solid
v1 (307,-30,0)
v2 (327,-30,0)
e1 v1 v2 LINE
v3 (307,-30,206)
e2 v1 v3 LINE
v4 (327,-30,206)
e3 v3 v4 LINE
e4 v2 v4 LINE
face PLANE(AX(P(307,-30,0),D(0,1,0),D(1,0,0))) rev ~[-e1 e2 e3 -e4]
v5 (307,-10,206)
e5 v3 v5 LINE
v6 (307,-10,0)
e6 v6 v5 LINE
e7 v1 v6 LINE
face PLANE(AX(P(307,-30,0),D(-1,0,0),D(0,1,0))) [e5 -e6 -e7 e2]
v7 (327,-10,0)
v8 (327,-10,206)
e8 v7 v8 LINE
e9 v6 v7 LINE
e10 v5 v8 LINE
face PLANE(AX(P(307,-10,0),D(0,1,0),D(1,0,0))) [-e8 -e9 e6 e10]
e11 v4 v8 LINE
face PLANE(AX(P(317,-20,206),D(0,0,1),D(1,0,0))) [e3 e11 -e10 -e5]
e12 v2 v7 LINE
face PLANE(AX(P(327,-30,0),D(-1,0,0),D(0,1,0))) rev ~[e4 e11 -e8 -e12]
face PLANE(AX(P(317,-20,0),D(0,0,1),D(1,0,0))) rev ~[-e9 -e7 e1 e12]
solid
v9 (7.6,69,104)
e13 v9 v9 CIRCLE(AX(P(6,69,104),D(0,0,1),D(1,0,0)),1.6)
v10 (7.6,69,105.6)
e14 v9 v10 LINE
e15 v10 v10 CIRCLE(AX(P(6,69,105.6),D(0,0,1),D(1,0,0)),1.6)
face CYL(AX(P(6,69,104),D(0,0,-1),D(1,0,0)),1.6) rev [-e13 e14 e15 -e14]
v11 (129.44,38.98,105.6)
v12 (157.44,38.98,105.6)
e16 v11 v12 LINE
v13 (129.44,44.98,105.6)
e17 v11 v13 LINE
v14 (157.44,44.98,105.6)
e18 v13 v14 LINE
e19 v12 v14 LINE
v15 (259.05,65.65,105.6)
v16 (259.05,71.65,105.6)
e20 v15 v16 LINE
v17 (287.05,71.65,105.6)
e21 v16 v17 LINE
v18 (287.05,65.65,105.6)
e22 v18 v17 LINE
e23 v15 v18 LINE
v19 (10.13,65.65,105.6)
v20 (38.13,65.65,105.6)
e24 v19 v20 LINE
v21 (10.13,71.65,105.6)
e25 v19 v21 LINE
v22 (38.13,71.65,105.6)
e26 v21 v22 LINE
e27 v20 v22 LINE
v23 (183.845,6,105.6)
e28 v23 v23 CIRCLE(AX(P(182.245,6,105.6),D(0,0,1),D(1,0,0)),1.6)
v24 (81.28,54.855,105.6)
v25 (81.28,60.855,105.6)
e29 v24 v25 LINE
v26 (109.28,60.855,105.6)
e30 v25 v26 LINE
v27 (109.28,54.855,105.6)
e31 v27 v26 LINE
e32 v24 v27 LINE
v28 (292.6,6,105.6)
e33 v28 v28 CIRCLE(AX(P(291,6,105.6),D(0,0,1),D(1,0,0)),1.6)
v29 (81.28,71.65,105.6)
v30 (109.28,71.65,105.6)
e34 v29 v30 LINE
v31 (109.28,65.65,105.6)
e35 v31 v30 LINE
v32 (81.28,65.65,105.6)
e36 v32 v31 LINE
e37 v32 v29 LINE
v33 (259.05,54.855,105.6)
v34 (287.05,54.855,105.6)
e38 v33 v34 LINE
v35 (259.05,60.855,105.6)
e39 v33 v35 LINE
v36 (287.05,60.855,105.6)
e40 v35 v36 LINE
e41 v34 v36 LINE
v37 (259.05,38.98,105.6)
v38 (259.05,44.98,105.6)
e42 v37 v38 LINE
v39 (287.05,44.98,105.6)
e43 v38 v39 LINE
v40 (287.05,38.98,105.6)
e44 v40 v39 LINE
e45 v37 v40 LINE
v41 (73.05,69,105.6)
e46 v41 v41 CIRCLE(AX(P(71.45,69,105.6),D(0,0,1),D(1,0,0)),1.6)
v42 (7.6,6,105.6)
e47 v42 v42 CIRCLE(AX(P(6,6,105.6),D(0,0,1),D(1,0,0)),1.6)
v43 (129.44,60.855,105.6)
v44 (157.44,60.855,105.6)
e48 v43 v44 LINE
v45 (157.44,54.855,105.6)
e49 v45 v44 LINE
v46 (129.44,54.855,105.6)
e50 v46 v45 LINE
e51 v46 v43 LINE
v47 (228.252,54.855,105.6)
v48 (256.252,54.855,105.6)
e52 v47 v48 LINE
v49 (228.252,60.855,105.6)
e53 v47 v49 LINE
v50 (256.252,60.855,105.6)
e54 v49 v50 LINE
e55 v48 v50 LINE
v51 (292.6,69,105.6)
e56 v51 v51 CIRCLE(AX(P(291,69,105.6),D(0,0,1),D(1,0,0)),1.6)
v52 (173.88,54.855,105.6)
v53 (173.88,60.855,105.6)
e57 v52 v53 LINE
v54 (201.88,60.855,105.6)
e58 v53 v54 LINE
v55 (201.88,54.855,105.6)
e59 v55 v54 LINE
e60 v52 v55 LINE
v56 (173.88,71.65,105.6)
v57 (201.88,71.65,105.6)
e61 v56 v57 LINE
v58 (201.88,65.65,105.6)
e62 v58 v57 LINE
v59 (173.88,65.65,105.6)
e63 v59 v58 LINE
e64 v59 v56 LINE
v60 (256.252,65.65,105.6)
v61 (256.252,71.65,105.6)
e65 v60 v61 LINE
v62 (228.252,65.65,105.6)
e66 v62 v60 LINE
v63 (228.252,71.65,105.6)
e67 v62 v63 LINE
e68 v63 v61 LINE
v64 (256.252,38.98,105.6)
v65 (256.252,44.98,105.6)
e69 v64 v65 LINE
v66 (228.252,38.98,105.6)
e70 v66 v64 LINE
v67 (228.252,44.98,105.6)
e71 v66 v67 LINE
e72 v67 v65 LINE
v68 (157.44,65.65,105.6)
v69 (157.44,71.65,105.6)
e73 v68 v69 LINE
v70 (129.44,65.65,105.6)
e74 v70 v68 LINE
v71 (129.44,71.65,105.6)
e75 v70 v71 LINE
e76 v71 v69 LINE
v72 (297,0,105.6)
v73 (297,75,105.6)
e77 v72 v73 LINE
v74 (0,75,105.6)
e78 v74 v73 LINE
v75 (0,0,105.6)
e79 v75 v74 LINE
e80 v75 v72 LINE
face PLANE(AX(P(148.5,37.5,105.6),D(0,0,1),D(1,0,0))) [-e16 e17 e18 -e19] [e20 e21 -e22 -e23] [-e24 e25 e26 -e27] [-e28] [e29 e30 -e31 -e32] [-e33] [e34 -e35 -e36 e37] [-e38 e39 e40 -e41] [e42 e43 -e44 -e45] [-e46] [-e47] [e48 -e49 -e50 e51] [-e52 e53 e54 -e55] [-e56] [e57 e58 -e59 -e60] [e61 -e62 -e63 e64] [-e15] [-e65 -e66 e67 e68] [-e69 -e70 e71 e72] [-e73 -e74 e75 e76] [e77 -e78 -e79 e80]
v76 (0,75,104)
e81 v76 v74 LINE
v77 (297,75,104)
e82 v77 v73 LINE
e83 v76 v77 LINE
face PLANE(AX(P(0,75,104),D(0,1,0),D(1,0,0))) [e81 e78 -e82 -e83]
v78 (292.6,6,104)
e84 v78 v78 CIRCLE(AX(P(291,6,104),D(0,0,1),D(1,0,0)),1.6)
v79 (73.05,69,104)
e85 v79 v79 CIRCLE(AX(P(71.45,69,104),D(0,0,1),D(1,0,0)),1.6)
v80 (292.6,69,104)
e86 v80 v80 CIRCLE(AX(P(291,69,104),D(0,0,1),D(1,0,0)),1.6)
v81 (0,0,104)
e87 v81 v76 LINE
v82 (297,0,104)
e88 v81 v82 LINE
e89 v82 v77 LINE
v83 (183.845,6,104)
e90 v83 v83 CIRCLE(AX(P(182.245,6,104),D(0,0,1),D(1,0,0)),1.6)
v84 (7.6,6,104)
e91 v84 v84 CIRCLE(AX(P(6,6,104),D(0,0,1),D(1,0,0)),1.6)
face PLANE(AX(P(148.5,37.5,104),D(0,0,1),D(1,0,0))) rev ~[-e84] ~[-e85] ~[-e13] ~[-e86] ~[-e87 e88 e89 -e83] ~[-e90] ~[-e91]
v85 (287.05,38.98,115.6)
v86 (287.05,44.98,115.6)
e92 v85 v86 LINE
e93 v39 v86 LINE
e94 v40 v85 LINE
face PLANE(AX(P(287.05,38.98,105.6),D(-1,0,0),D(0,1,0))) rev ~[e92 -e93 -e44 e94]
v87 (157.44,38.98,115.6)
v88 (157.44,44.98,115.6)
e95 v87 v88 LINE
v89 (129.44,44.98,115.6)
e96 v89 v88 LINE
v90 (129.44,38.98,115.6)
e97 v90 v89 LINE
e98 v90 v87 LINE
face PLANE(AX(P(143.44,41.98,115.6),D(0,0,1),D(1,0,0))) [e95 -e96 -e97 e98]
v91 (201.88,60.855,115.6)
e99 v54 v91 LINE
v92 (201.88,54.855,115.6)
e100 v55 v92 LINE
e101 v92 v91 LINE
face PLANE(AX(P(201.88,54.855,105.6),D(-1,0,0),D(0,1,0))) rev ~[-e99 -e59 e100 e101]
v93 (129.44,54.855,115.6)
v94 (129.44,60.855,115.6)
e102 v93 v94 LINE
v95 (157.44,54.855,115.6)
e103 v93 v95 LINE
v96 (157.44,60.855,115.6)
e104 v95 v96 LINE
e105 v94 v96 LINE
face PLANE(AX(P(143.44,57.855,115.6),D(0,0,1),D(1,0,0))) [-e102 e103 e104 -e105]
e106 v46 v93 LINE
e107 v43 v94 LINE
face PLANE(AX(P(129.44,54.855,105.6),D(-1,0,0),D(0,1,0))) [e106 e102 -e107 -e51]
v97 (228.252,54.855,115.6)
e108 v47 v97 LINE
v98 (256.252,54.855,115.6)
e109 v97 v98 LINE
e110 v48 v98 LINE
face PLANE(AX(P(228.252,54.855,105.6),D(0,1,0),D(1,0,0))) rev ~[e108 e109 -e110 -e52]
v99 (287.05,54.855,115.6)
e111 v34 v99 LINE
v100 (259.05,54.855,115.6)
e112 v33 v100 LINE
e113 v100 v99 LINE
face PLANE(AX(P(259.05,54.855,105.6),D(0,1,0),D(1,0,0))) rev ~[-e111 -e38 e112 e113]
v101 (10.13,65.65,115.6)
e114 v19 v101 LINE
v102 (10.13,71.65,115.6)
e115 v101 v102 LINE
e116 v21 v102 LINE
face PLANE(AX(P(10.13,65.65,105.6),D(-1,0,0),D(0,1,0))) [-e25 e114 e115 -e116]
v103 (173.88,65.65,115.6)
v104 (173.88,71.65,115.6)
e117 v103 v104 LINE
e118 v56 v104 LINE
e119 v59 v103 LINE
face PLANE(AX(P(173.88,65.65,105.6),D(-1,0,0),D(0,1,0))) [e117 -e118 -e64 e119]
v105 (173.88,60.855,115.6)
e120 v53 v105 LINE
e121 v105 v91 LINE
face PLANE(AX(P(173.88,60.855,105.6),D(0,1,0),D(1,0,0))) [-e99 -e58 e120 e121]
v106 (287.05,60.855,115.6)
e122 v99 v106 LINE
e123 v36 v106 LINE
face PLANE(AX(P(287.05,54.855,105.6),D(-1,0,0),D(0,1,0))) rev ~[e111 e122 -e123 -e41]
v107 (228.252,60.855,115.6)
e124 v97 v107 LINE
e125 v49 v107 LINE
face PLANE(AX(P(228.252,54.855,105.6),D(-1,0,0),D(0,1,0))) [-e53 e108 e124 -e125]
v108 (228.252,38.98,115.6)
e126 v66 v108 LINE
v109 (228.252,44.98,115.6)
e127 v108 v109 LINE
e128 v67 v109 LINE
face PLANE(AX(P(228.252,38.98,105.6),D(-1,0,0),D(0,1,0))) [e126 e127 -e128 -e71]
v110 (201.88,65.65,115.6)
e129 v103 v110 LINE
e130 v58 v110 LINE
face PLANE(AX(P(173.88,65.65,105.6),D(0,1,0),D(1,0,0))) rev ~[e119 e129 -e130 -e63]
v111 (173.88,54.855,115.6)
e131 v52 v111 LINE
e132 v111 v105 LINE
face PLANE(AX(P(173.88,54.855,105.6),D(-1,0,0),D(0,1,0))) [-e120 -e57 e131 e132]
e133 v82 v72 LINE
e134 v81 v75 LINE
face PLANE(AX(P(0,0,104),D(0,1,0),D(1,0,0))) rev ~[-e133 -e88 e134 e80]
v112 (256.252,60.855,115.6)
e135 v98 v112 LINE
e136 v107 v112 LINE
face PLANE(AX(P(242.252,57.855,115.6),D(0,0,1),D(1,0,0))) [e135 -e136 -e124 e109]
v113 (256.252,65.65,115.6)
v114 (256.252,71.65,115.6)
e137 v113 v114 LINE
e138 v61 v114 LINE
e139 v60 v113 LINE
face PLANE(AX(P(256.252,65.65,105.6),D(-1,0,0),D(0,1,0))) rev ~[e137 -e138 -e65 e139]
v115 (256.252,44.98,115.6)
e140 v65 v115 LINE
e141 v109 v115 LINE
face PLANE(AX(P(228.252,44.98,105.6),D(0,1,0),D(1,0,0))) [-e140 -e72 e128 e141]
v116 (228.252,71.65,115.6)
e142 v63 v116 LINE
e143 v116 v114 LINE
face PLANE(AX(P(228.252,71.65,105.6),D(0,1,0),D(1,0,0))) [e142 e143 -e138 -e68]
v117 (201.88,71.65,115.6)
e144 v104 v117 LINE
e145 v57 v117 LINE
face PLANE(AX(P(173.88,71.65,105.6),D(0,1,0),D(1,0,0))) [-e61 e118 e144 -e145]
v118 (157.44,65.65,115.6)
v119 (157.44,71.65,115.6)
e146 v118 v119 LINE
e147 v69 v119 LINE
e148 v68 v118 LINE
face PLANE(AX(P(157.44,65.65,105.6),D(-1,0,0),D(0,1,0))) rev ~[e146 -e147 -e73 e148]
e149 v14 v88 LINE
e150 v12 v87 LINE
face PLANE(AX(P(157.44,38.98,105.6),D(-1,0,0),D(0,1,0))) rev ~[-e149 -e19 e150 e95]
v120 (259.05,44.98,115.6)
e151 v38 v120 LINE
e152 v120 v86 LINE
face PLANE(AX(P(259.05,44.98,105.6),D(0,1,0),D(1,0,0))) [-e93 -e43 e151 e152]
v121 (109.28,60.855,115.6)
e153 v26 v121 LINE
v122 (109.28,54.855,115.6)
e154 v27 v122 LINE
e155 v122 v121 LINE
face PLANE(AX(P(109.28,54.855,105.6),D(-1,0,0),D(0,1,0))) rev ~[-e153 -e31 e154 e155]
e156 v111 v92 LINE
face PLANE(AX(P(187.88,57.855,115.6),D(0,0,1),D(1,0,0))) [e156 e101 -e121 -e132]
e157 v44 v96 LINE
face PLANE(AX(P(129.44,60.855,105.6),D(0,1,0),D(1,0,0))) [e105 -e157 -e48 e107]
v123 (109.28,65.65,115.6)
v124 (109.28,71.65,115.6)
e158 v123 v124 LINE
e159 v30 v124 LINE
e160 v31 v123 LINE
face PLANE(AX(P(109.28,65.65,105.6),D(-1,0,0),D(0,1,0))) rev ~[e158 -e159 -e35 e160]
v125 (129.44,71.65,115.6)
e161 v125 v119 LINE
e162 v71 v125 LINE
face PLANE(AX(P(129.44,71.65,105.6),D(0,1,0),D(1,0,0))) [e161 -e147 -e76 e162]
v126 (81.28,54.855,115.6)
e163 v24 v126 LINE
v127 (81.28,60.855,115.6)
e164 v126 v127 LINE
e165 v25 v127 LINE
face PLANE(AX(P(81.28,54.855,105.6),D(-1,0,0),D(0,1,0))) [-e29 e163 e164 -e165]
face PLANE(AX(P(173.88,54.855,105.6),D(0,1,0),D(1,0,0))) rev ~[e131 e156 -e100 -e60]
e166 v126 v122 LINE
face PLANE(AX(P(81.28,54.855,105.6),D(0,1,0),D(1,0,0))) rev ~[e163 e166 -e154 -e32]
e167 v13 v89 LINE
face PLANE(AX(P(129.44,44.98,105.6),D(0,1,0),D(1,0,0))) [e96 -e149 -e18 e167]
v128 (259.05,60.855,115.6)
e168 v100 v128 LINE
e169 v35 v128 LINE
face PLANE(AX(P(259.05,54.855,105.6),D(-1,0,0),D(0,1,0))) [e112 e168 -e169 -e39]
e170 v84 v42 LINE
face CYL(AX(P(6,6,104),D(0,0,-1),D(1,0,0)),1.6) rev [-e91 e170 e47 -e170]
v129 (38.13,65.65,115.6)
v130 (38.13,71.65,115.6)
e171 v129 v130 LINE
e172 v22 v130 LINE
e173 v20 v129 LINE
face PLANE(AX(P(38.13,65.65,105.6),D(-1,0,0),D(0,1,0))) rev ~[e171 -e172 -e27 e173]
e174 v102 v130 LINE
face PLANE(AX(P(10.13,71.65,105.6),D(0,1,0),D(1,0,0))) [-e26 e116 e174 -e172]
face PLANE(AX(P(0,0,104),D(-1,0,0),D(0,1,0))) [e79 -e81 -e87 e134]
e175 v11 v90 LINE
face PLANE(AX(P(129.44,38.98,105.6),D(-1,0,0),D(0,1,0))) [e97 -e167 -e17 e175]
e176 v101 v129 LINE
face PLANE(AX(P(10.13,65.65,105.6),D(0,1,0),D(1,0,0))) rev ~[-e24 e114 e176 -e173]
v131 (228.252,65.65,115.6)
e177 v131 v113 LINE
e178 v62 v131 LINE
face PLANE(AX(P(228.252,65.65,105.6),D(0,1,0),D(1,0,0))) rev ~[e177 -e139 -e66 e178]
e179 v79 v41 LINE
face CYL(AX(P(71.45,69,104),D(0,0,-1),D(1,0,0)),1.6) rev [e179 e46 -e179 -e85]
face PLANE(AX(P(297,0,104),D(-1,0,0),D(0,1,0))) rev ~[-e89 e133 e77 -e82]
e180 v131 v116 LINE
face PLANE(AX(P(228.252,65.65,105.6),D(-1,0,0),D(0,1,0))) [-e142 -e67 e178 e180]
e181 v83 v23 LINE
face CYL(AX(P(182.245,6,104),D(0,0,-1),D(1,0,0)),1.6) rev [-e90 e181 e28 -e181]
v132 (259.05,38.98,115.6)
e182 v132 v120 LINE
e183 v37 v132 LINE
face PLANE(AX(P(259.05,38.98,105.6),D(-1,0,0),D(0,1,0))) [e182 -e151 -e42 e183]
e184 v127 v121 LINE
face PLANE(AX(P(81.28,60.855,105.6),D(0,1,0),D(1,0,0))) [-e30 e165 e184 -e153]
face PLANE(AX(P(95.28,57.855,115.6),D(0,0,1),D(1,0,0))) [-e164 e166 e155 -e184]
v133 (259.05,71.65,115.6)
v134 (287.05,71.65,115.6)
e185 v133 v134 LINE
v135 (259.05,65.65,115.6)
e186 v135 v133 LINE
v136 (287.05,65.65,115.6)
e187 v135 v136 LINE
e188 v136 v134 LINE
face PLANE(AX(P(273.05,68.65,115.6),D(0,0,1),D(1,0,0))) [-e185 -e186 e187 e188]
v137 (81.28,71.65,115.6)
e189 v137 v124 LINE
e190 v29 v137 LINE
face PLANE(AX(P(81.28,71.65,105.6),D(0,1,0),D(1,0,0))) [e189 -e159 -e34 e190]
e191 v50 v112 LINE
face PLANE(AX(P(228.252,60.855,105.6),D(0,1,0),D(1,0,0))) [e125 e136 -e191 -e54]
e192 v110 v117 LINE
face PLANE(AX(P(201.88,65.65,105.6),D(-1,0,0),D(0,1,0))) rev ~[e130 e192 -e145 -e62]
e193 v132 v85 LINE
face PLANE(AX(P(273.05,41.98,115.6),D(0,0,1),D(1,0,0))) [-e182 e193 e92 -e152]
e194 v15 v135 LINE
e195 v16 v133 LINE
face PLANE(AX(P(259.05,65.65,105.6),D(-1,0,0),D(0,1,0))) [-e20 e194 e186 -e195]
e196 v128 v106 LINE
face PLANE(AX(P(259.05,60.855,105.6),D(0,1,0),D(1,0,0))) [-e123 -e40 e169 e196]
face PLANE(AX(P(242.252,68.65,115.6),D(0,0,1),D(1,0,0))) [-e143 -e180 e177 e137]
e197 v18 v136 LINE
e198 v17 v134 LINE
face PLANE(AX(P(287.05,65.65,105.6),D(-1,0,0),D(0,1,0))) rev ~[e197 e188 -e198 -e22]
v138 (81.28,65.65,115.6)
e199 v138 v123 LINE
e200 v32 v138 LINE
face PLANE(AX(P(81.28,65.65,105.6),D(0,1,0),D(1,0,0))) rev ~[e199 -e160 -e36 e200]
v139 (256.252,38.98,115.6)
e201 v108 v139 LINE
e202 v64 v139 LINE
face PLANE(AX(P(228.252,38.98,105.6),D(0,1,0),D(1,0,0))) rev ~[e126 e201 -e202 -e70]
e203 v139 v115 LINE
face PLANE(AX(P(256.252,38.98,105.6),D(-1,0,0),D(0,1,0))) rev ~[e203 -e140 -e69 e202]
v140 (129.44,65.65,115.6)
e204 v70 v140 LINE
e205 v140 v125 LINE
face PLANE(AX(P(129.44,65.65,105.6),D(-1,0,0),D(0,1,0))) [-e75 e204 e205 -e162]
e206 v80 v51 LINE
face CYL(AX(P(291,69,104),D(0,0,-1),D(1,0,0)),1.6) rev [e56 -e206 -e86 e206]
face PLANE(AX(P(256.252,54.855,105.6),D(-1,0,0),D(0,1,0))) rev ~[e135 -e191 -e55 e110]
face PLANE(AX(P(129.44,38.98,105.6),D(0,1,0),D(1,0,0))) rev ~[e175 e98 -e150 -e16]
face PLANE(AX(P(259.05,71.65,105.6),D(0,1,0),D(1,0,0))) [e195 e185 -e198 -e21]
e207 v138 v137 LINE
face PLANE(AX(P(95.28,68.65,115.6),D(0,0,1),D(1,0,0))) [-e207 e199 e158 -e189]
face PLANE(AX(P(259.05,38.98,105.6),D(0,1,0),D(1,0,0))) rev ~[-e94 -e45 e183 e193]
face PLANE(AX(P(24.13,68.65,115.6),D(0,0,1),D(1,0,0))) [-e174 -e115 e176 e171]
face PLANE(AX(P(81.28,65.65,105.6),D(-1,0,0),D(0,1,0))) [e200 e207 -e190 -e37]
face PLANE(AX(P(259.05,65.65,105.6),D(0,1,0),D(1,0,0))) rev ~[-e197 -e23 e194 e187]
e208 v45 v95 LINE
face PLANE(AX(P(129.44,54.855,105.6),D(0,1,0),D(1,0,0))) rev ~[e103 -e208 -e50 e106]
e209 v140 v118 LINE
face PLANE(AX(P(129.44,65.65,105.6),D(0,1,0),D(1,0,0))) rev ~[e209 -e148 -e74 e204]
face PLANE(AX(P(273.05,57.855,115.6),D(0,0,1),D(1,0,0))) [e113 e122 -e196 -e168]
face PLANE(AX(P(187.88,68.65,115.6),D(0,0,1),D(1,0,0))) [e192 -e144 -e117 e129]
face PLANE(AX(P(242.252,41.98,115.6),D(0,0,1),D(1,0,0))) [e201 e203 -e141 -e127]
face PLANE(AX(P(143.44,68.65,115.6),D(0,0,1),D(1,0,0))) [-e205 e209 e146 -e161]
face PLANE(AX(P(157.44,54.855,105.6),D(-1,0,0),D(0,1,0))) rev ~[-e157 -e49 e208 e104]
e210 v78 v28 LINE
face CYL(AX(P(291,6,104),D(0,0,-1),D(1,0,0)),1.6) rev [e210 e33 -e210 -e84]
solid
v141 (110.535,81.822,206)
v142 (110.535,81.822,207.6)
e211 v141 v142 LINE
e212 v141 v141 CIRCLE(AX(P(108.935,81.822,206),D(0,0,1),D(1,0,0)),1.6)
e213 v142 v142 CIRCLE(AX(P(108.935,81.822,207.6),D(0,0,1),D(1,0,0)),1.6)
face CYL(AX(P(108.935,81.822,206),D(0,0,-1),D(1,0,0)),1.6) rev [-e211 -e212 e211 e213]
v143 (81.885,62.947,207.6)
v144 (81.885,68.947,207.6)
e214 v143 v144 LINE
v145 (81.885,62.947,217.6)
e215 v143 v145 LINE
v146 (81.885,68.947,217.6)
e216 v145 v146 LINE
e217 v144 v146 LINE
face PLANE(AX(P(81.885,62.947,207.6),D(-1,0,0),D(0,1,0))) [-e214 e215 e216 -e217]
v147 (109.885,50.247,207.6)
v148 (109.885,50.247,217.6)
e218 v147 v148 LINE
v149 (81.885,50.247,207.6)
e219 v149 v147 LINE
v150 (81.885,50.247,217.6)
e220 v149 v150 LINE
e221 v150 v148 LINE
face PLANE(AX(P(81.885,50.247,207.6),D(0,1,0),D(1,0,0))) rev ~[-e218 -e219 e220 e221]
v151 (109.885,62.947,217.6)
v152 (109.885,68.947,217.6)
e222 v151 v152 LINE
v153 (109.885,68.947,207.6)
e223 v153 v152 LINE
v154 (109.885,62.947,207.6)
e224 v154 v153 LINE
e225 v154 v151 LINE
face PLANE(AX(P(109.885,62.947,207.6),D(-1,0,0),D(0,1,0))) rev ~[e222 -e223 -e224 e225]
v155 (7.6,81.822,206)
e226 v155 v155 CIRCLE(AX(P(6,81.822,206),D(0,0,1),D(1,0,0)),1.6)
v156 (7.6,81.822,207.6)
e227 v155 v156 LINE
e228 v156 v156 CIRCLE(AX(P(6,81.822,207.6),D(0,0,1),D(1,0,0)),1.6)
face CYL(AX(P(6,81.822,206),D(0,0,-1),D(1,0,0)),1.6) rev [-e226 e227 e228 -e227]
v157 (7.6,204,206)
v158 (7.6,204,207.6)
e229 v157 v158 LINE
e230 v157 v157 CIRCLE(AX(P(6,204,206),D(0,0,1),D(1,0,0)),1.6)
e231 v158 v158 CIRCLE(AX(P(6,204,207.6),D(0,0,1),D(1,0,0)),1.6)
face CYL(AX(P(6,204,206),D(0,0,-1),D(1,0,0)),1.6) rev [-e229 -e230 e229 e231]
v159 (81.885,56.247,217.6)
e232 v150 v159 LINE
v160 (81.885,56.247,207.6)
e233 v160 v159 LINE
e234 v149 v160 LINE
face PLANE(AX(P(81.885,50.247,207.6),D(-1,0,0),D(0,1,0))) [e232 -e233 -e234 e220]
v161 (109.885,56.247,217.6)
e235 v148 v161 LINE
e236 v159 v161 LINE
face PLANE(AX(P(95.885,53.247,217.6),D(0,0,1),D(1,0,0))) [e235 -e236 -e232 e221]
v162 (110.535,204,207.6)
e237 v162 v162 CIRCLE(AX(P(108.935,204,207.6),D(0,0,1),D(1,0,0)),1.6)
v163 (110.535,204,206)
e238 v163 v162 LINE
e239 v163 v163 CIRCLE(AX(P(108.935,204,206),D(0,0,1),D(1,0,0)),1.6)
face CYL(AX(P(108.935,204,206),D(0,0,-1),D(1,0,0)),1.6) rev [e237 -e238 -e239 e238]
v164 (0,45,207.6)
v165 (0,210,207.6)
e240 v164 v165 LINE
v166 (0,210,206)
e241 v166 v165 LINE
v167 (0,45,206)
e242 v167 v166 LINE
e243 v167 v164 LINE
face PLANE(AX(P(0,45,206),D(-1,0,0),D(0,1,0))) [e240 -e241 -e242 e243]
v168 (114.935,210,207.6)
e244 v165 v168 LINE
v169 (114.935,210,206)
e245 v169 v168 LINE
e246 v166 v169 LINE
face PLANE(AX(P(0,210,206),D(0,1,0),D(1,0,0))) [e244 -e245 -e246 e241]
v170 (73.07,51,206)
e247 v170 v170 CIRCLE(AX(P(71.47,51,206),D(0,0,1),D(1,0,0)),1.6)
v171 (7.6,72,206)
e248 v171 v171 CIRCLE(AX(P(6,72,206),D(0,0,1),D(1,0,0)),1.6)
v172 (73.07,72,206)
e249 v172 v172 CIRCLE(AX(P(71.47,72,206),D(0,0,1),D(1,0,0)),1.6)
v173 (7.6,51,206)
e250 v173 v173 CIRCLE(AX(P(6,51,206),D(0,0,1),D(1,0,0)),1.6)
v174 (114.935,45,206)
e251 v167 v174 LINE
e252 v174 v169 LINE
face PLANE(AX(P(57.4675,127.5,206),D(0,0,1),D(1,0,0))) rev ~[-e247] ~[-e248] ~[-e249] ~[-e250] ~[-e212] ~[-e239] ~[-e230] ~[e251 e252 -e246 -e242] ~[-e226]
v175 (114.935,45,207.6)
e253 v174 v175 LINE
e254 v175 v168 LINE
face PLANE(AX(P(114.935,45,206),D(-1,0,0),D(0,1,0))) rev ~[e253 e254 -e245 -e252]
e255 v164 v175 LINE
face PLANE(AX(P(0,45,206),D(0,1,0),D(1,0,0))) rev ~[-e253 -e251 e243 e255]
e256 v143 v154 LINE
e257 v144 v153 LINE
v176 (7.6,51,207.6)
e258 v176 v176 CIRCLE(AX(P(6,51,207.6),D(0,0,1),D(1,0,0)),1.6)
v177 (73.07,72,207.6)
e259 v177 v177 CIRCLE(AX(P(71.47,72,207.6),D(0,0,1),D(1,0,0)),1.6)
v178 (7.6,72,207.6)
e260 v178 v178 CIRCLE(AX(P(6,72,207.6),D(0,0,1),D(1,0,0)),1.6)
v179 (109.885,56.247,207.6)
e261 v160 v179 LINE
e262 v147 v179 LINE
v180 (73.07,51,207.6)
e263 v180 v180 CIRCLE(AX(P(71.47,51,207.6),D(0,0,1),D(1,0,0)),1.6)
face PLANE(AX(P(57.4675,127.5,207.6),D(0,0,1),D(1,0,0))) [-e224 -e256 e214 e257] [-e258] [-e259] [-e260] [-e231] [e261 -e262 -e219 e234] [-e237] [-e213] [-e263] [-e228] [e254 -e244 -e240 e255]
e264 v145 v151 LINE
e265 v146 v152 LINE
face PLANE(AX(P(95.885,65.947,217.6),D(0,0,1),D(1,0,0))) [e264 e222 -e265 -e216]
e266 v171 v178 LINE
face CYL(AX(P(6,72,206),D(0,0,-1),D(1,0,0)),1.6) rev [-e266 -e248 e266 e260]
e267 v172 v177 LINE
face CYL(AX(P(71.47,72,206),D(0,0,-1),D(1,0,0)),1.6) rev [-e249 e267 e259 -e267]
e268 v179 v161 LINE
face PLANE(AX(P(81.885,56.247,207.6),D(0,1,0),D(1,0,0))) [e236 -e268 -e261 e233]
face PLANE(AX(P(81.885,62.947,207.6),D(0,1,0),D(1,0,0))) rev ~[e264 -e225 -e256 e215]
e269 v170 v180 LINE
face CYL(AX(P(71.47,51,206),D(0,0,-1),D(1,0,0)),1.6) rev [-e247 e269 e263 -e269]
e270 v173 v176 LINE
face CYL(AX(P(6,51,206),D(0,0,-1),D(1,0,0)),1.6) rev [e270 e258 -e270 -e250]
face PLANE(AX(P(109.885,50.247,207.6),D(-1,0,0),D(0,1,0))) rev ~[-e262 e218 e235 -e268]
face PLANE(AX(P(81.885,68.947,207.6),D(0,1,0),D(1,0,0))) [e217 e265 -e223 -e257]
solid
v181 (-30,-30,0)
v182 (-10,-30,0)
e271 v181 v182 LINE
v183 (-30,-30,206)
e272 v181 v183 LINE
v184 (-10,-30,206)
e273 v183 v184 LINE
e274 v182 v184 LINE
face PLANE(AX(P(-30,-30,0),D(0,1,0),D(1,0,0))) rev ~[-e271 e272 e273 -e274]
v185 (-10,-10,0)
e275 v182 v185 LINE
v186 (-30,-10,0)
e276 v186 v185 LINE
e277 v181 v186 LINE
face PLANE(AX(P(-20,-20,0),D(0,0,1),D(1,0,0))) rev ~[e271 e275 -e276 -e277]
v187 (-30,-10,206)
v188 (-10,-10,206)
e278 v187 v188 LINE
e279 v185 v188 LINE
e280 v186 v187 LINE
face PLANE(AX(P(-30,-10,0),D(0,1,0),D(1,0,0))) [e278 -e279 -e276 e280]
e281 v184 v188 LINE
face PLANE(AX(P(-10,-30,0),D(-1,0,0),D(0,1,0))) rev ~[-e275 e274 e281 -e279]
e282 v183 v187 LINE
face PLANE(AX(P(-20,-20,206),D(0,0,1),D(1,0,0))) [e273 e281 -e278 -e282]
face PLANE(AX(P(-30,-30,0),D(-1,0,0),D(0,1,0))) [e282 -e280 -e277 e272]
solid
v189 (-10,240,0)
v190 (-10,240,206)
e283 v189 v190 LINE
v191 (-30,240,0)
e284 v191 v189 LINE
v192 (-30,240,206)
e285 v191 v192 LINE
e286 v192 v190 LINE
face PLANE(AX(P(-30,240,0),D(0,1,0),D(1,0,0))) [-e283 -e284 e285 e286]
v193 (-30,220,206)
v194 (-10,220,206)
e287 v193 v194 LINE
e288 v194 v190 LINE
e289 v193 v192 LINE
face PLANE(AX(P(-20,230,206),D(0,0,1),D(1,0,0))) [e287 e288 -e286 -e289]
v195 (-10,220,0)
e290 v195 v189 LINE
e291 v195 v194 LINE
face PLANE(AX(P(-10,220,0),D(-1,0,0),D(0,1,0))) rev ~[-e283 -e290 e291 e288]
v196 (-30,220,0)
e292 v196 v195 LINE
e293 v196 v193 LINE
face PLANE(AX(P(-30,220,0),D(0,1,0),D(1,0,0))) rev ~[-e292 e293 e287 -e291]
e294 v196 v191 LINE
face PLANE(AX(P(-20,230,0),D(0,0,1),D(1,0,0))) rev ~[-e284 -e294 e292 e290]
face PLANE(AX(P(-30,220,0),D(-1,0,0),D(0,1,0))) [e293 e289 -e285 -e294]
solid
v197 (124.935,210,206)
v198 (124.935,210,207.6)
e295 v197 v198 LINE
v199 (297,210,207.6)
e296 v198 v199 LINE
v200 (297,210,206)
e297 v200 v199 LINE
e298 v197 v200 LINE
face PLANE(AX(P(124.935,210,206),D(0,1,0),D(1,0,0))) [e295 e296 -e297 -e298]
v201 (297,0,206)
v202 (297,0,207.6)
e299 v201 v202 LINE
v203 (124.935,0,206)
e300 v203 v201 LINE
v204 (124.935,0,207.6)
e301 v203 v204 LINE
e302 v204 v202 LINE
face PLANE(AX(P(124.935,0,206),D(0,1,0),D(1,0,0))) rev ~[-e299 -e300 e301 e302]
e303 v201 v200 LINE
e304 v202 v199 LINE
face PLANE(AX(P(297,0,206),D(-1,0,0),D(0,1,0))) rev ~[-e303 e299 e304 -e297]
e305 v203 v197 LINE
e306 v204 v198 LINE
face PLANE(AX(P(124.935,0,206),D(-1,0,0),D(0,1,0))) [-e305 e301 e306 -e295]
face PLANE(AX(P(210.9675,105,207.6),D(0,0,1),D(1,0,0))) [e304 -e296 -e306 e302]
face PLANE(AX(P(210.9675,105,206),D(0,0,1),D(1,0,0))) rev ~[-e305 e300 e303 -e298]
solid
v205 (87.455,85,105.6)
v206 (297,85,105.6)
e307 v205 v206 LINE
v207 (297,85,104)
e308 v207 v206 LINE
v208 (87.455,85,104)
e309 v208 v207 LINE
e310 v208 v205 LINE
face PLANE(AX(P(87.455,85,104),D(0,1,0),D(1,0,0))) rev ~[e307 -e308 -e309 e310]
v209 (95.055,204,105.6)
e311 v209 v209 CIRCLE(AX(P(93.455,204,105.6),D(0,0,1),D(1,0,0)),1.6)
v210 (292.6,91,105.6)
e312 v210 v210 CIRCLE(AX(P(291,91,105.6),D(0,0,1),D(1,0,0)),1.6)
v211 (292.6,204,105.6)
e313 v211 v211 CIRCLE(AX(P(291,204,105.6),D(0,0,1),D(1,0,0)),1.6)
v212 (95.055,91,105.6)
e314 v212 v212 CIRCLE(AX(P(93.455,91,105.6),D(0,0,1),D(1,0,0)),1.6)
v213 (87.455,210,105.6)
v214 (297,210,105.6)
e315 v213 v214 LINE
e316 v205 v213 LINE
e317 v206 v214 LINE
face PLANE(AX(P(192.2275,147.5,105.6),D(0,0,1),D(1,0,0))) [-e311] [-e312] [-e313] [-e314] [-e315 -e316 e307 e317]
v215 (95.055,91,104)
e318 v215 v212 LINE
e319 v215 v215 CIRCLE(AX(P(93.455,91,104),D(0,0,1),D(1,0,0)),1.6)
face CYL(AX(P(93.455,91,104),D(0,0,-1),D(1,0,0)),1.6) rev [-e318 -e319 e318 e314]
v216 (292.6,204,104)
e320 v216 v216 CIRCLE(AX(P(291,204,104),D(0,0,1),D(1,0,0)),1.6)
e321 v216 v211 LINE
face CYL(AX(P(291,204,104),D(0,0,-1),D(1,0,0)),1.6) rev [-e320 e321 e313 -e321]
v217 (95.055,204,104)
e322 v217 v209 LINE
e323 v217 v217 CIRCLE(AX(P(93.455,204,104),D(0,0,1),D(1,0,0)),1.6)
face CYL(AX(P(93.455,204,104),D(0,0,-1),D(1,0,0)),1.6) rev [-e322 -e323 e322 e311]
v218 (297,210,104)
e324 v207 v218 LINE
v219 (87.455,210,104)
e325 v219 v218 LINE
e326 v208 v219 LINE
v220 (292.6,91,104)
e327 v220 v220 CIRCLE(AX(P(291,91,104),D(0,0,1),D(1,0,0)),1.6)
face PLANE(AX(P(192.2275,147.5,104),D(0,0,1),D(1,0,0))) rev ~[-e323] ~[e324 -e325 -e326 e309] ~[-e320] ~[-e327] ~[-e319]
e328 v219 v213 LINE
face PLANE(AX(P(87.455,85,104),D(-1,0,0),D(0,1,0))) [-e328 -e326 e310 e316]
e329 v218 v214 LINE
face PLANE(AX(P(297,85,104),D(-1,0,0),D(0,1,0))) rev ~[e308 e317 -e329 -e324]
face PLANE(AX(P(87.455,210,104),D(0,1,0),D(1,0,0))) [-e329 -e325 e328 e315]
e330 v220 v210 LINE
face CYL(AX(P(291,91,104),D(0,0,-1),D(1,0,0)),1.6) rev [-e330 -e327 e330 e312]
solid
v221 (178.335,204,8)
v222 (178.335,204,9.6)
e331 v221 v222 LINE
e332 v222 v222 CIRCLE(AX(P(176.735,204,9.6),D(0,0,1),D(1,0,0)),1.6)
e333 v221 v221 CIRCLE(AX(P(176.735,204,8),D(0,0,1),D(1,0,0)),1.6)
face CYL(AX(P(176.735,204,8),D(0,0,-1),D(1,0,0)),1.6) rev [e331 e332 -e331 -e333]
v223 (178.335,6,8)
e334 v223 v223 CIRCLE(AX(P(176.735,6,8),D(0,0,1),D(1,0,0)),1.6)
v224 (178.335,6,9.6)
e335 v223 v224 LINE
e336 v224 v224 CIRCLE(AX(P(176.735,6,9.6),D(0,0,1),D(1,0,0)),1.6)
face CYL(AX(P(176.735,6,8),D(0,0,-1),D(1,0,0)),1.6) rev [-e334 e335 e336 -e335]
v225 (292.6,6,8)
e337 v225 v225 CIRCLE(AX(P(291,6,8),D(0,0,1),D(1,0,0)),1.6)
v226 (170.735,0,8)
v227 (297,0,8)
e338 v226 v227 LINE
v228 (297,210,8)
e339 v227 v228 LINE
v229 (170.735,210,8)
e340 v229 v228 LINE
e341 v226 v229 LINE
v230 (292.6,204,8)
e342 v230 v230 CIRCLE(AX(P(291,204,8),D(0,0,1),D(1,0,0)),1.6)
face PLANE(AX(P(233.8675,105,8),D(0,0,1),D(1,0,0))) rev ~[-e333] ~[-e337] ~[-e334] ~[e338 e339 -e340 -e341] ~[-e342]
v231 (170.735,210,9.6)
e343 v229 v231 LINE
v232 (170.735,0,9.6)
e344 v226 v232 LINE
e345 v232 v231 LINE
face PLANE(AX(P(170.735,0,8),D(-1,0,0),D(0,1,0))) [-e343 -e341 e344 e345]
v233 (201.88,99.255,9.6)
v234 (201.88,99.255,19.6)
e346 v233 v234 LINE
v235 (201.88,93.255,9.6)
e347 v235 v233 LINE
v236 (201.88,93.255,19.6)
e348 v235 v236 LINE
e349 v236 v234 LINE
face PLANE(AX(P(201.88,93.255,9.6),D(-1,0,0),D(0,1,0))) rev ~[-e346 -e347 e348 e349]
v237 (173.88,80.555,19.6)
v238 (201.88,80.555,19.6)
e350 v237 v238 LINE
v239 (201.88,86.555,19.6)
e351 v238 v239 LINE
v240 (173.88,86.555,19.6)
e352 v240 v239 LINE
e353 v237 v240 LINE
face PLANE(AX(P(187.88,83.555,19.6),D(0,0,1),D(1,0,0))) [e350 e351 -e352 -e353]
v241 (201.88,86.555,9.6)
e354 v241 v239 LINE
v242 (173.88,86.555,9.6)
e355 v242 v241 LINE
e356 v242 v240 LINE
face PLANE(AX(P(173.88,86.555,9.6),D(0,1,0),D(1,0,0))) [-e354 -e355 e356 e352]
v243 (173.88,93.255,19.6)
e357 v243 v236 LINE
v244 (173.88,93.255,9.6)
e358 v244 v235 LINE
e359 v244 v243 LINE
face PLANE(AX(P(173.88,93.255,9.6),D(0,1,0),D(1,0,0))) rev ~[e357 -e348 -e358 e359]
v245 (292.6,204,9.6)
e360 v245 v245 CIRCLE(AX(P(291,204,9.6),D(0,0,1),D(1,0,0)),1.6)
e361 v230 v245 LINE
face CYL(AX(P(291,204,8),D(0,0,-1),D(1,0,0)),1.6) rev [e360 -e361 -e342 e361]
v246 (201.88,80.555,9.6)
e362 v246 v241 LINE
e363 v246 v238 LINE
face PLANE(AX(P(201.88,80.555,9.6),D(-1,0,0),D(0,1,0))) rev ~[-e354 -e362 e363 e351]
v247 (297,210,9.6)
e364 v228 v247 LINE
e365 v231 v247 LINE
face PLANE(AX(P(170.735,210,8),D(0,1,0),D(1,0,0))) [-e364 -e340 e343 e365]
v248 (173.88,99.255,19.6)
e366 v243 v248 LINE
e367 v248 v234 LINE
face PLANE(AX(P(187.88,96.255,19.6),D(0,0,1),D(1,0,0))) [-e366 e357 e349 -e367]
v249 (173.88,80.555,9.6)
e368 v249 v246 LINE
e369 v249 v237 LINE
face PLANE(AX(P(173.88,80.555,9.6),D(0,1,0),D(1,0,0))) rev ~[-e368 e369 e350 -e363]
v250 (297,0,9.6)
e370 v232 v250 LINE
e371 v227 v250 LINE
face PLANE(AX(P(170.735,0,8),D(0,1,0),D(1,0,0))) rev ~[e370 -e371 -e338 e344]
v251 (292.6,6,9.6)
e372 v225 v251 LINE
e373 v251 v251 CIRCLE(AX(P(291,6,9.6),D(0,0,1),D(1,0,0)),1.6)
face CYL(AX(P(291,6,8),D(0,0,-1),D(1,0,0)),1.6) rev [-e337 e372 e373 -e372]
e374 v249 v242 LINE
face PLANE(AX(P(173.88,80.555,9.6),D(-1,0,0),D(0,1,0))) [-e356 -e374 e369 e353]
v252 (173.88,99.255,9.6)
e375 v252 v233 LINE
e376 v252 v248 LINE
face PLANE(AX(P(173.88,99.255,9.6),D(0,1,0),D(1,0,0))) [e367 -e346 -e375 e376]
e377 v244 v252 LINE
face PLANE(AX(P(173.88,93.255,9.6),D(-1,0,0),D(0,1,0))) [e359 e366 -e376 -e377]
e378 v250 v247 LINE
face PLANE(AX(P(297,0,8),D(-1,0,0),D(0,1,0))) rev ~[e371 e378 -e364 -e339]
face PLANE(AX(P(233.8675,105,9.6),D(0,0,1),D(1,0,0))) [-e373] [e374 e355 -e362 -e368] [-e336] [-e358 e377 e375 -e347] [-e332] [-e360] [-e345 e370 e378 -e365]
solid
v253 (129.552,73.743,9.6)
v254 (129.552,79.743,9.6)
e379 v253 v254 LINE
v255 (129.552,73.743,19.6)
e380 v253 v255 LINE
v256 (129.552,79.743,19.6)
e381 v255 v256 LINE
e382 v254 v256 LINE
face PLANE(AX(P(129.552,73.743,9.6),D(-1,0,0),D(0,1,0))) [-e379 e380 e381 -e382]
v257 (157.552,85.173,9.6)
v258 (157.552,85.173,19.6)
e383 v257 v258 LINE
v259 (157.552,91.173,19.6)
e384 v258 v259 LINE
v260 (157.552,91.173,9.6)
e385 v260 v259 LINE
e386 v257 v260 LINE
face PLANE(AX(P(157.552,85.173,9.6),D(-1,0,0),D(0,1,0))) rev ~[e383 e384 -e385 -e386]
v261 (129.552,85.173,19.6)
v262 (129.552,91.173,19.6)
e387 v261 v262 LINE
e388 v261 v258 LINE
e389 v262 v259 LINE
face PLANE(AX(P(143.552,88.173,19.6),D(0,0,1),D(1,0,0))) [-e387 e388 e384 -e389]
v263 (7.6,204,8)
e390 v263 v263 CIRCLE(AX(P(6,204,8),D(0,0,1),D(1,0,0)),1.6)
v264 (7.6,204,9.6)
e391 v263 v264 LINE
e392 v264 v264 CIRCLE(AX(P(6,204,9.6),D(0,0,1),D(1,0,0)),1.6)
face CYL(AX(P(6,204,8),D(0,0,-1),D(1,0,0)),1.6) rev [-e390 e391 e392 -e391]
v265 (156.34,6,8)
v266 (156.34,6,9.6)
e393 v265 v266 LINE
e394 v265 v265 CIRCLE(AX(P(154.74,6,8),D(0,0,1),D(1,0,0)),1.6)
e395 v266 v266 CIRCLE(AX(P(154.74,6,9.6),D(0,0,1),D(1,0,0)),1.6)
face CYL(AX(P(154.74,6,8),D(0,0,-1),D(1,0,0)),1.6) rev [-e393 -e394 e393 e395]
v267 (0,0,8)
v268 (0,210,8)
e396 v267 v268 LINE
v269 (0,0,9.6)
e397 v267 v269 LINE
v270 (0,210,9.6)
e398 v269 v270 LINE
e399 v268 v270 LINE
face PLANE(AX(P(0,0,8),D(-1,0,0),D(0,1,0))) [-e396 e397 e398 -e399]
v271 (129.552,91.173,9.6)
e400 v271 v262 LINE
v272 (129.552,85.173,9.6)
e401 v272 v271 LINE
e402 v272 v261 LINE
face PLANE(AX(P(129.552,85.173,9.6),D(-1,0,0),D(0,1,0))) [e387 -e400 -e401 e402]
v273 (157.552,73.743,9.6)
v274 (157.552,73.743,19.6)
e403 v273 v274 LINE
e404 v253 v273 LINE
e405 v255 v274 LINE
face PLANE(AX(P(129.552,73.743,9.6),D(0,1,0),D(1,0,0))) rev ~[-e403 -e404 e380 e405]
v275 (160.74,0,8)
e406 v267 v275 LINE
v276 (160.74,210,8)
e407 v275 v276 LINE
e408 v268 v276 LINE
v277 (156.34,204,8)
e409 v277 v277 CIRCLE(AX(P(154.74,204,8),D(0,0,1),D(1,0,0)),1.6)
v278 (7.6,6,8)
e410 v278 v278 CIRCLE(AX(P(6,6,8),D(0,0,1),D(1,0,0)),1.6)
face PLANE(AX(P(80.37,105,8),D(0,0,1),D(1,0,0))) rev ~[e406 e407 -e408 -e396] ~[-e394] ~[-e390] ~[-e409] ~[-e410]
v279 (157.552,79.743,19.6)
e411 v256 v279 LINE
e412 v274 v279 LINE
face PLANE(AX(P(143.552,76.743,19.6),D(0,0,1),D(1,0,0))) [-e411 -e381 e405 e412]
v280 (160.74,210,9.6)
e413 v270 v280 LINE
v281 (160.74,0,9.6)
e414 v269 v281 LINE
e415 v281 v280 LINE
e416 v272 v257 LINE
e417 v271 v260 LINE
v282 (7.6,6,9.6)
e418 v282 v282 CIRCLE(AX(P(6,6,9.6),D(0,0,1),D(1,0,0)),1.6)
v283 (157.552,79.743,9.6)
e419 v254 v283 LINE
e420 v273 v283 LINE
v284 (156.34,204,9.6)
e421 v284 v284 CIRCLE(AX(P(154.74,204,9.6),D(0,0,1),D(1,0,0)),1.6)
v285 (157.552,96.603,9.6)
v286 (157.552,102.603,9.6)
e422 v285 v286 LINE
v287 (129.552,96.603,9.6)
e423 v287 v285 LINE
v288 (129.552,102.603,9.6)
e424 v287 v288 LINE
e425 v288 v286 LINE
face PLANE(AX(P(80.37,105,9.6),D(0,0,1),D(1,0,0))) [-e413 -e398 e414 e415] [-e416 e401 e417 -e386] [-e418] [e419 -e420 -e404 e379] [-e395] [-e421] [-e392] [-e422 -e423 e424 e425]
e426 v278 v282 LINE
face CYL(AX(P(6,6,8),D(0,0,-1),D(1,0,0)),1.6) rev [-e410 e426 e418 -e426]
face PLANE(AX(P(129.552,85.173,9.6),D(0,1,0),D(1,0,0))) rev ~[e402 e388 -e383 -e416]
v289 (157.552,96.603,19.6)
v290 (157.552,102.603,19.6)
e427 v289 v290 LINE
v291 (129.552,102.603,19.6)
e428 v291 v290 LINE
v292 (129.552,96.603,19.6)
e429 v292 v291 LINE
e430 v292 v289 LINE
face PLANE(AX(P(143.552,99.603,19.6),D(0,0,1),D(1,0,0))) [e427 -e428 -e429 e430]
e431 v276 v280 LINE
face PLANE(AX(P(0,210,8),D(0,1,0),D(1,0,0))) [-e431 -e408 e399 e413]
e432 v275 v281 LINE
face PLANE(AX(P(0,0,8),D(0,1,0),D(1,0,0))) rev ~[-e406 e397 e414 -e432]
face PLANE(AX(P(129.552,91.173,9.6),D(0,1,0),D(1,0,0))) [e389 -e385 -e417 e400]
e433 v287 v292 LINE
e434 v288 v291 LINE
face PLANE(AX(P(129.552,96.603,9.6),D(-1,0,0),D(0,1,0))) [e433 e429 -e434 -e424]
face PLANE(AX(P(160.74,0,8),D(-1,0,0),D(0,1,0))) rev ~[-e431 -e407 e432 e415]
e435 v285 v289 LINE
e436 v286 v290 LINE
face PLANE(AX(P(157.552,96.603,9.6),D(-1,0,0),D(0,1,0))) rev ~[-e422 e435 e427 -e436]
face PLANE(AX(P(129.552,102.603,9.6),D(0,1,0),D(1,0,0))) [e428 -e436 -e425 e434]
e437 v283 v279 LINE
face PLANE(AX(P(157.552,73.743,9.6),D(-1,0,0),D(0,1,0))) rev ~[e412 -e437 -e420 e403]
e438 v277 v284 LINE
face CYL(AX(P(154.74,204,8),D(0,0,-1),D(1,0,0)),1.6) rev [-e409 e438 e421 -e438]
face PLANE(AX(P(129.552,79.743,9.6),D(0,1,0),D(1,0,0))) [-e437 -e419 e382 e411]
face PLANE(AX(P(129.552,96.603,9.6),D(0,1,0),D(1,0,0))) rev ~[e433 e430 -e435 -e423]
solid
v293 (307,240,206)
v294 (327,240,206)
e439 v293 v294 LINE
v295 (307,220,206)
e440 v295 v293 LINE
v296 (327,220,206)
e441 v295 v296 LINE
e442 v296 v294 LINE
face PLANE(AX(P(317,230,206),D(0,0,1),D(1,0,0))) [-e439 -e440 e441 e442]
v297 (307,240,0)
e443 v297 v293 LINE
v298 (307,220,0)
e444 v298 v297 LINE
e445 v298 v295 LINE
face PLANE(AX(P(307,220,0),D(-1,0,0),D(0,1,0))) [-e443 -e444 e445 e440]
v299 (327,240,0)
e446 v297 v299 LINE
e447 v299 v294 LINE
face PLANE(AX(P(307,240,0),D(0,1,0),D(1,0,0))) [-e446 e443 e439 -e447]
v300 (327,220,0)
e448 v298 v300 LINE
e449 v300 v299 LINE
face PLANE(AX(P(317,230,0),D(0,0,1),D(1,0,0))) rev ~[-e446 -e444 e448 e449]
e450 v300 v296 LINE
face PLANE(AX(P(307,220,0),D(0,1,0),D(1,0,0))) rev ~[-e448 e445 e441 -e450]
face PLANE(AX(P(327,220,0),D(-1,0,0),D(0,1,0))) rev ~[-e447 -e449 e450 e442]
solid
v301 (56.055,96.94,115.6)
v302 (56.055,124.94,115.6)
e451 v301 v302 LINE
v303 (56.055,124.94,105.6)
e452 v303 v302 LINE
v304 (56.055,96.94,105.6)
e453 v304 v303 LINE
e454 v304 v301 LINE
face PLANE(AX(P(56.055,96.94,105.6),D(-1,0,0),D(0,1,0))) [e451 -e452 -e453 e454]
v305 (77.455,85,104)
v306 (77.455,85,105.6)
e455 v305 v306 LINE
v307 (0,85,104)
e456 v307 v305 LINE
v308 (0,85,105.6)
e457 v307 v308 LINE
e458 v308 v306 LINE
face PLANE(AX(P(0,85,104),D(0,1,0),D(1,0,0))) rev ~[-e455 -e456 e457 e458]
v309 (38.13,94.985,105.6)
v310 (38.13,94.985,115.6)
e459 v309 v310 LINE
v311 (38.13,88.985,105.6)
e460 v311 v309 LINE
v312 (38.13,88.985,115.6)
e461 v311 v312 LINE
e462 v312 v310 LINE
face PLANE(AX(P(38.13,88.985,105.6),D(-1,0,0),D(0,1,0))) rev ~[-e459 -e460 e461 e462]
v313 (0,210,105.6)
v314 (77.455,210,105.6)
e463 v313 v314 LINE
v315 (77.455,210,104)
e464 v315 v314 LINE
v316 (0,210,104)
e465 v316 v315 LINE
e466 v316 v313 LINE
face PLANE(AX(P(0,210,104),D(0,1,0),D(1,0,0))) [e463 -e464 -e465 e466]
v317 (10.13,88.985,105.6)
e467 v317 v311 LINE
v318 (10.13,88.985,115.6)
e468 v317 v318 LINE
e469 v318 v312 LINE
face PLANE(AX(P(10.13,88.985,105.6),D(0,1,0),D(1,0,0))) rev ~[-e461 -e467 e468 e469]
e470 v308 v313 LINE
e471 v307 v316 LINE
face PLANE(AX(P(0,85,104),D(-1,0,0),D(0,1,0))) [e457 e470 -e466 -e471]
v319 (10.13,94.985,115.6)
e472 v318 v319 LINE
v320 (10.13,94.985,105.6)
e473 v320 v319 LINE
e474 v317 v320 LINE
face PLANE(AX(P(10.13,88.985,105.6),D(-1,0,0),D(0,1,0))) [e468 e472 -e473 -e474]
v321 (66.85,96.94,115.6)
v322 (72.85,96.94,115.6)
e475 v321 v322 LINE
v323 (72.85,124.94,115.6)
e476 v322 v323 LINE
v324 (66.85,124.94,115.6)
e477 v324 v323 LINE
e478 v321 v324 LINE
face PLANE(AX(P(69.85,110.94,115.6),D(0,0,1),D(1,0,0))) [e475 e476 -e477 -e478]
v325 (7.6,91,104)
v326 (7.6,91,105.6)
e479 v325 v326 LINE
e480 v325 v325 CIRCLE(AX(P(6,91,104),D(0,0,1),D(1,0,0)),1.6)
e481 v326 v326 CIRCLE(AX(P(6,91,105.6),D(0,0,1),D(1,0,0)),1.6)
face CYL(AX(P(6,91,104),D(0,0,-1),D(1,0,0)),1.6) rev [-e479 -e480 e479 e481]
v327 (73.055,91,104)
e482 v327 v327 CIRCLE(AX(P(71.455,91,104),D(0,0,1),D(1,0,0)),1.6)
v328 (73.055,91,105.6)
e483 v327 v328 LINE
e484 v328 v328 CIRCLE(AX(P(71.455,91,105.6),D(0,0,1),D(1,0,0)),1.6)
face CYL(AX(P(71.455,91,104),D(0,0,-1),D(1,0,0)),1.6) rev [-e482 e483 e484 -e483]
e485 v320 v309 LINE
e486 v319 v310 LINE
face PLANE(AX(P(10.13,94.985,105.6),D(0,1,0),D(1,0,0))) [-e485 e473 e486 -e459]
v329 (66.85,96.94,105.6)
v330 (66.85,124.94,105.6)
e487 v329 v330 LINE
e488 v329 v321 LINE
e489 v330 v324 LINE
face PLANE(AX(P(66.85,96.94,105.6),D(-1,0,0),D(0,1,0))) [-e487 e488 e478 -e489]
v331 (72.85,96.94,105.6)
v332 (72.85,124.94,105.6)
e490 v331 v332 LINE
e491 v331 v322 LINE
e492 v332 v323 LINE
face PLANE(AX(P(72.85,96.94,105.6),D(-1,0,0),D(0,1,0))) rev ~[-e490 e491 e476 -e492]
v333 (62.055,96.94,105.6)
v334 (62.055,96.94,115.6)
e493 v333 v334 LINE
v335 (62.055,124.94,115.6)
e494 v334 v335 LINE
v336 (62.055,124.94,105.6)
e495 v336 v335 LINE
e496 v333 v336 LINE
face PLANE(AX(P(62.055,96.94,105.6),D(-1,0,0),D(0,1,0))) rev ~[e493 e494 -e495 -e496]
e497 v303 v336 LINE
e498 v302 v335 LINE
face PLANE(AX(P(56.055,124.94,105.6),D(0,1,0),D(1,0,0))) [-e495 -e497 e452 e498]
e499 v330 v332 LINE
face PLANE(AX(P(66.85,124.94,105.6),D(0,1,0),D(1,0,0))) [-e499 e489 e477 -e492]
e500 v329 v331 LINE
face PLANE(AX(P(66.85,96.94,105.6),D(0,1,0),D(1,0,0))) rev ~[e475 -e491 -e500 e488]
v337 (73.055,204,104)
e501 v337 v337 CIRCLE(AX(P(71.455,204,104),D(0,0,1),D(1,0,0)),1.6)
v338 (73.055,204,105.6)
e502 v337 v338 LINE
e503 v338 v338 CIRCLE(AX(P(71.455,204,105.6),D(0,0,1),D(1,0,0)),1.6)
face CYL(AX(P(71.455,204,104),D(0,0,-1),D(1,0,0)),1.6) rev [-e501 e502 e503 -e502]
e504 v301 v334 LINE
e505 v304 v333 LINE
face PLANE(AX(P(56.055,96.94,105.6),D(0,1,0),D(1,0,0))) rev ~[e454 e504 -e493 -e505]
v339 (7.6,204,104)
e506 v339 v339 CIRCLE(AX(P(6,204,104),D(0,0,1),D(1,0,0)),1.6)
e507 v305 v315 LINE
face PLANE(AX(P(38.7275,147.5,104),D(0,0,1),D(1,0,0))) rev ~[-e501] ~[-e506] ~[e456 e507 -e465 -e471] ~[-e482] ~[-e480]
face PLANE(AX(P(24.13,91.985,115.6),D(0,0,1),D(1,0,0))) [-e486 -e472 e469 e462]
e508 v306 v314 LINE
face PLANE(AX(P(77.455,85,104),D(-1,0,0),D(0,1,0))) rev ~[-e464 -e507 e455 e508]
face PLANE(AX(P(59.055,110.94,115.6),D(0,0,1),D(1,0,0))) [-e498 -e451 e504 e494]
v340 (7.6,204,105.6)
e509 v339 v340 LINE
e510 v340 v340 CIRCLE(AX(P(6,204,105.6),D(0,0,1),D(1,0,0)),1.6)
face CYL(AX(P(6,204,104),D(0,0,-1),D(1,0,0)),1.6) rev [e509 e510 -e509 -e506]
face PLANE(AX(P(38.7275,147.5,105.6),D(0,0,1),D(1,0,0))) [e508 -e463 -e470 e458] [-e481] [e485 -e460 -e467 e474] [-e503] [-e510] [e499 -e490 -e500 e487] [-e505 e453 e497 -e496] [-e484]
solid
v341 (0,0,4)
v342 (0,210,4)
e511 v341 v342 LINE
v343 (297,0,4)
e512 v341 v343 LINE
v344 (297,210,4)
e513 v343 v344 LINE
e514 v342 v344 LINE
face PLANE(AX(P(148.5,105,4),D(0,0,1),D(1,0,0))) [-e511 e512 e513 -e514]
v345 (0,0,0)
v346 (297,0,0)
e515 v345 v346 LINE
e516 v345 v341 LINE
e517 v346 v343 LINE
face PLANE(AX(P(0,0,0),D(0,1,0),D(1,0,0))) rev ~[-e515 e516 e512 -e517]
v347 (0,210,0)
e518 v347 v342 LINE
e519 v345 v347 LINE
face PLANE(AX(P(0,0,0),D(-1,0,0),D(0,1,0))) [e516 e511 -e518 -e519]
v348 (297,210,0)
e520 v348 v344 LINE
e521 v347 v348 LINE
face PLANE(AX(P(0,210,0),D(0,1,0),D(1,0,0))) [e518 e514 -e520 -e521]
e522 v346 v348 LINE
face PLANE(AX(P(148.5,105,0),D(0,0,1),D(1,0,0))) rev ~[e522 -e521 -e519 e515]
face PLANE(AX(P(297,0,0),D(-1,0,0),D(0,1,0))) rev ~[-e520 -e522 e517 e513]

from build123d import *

# Parameters (mm, degrees)
SKETCH_W         = 297
SKETCH_H         = 210
EXTRUDE_DEPTH    = 4
SKETCH003_W      = 20
SKETCH003_H      = 20
EXTRUDE003_DEPTH = 206
SKETCH010_W      = 209.545
SKETCH010_H      = 125
SKETCH010_R      = 1.6
EXTRUDE010_DEPTH = 1.6
SKETCH009_W      = 28
SKETCH009_H      = 6
SKETCH009_W_2    = 6
SKETCH009_H_2    = 28
EXTRUDE009_DEPTH = 10
SKETCH008_W      = 77.455
SKETCH008_H      = 125
SKETCH008_R      = 1.6
EXTRUDE008_DEPTH = 1.6
SKETCH004_W      = 297
SKETCH004_H      = 75
SKETCH004_R      = 1.6
EXTRUDE004_DEPTH = 1.6
SKETCH005_W      = 28
SKETCH005_H      = 6
EXTRUDE005_DEPTH = 10
SKETCH002_W      = 160.74
SKETCH002_H      = 210
SKETCH002_R      = 1.6
EXTRUDE002_DEPTH = 1.6
SKETCH007_W      = 28
SKETCH007_H      = 6
EXTRUDE007_DEPTH = 10
SKETCH001_W      = 126.265
SKETCH001_H      = 210
SKETCH001_R      = 1.6
EXTRUDE001_DEPTH = 1.6
SKETCH006_W      = 28
SKETCH006_H      = 6
EXTRUDE006_DEPTH = 10
SKETCH012_W      = 172.065
SKETCH012_H      = 210
EXTRUDE012_DEPTH = 1.6
SKETCH013_W      = 28
SKETCH013_H      = 6
EXTRUDE013_DEPTH = 10
SKETCH011_W      = 114.935
SKETCH011_H      = 165
SKETCH011_R      = 1.6
EXTRUDE011_DEPTH = 1.6


with BuildPart() as extrude_body:
    # Sketch → Extrude (new body)
    with BuildSketch(Plane.XY):
        with Locations((148.5, 105)):
            Rectangle(SKETCH_W, SKETCH_H)
    extrude(amount=EXTRUDE_DEPTH)


with BuildPart() as extrude003:
    # Sketch003 → Extrude003 (new body)
    with BuildSketch(Plane.XY):
        with Locations((-20, -20)):
            Rectangle(SKETCH003_W, SKETCH003_H)
        with Locations((317, -20)):
            Rectangle(SKETCH003_W, SKETCH003_H)
        with Locations((317, 230)):
            Rectangle(SKETCH003_W, SKETCH003_H)
        with Locations((-20, 230)):
            Rectangle(SKETCH003_W, SKETCH003_H)
    extrude(amount=EXTRUDE003_DEPTH)


with BuildPart() as rf16:
    # Sketch010 → Extrude010 (new body)
    with BuildSketch(Plane.XY.offset(104)):
        with Locations((192.2275, 147.5)):
            Rectangle(SKETCH010_W, SKETCH010_H)
        with Locations((93.455, 204)):
            Circle(SKETCH010_R, mode=Mode.SUBTRACT)
        with Locations((291, 204)):
            Circle(SKETCH010_R, mode=Mode.SUBTRACT)
        with Locations((291, 91)):
            Circle(SKETCH010_R, mode=Mode.SUBTRACT)
        with Locations((93.455, 91)):
            Circle(SKETCH010_R, mode=Mode.SUBTRACT)
    extrude(amount=EXTRUDE010_DEPTH)


with BuildPart() as extrude009:
    # Sketch009 (on Face10 of Extrude008) → Extrude009 (new body)
    with BuildSketch(Plane.XY.offset(105.6)):
        with Locations((24.13, 91.985)):
            Rectangle(SKETCH009_W, SKETCH009_H)
        with Locations((59.055, 110.94)):
            Rectangle(SKETCH009_W_2, SKETCH009_H_2)
        with Locations((69.85, 110.94)):
            Rectangle(SKETCH009_W_2, SKETCH009_H_2)
    extrude(amount=EXTRUDE009_DEPTH)


with BuildPart() as clock:
    # Sketch008 → Extrude008 (new body)
    with BuildSketch(Plane.XY.offset(104)):
        with Locations((38.7275, 147.5)):
            Rectangle(SKETCH008_W, SKETCH008_H)
        with Locations((6, 204)):
            Circle(SKETCH008_R, mode=Mode.SUBTRACT)
        with Locations((6, 91)):
            Circle(SKETCH008_R, mode=Mode.SUBTRACT)
        with Locations((71.455, 91)):
            Circle(SKETCH008_R, mode=Mode.SUBTRACT)
        with Locations((71.455, 204)):
            Circle(SKETCH008_R, mode=Mode.SUBTRACT)
    extrude(amount=EXTRUDE008_DEPTH)

    # Fusion: union Extrude009
    add(extrude009.part)


with BuildPart() as extrude004:
    # Sketch004 → Extrude004 (new body)
    with BuildSketch(Plane.XY.offset(104)):
        with Locations((148.5, 37.5)):
            Rectangle(SKETCH004_W, SKETCH004_H)
        with Locations((6, 69)):
            Circle(SKETCH004_R, mode=Mode.SUBTRACT)
        with Locations((6, 6)):
            Circle(SKETCH004_R, mode=Mode.SUBTRACT)
        with Locations((291, 69)):
            Circle(SKETCH004_R, mode=Mode.SUBTRACT)
        with Locations((291, 6)):
            Circle(SKETCH004_R, mode=Mode.SUBTRACT)
        with Locations((71.45, 69)):
            Circle(SKETCH004_R, mode=Mode.SUBTRACT)
        with Locations((182.245, 6)):
            Circle(SKETCH004_R, mode=Mode.SUBTRACT)
    extrude(amount=EXTRUDE004_DEPTH)


with BuildPart() as sysbus:
    # Sketch005 (on Face12 of Extrude004) → Extrude005 (new body)
    with BuildSketch(Plane.XY.offset(105.6)):
        with Locations((187.88, 68.65)):
            Rectangle(SKETCH005_W, SKETCH005_H)
        with Locations((187.88, 57.855)):
            Rectangle(SKETCH005_W, SKETCH005_H)
        with Locations((143.44, 68.65)):
            Rectangle(SKETCH005_W, SKETCH005_H)
        with Locations((143.44, 57.855)):
            Rectangle(SKETCH005_W, SKETCH005_H)
        with Locations((143.44, 41.98)):
            Rectangle(SKETCH005_W, SKETCH005_H)
        with Locations((24.13, 68.65)):
            Rectangle(SKETCH005_W, SKETCH005_H)
        with Locations((273.05, 68.65)):
            Rectangle(SKETCH005_W, SKETCH005_H)
        with Locations((273.05, 57.855)):
            Rectangle(SKETCH005_W, SKETCH005_H)
        with Locations((273.05, 41.98)):
            Rectangle(SKETCH005_W, SKETCH005_H)
        with Locations((95.28, 68.65)):
            Rectangle(SKETCH005_W, SKETCH005_H)
        with Locations((95.28, 57.855)):
            Rectangle(SKETCH005_W, SKETCH005_H)
        with Locations((242.252, 68.65)):
            Rectangle(SKETCH005_W, SKETCH005_H)
        with Locations((242.252, 57.855)):
            Rectangle(SKETCH005_W, SKETCH005_H)
        with Locations((242.252, 41.98)):
            Rectangle(SKETCH005_W, SKETCH005_H)
    extrude(amount=EXTRUDE005_DEPTH)

    # Fusion001: union Extrude004
    add(extrude004.part)


with BuildPart() as extrude002:
    # Sketch002 → Extrude002 (new body)
    with BuildSketch(Plane.XY.offset(8)):
        with Locations((80.37, 105)):
            Rectangle(SKETCH002_W, SKETCH002_H)
        with Locations((6, 204)):
            Circle(SKETCH002_R, mode=Mode.SUBTRACT)
        with Locations((154.74, 204)):
            Circle(SKETCH002_R, mode=Mode.SUBTRACT)
        with Locations((154.74, 6)):
            Circle(SKETCH002_R, mode=Mode.SUBTRACT)
        with Locations((6, 6)):
            Circle(SKETCH002_R, mode=Mode.SUBTRACT)
    extrude(amount=EXTRUDE002_DEPTH)


with BuildPart() as cl:
    # Sketch007 (on Face10 of Extrude002) → Extrude007 (new body)
    with BuildSketch(Plane.XY.offset(9.6)):
        with Locations((143.552, 99.603)):
            Rectangle(SKETCH007_W, SKETCH007_H)
        with Locations((143.552, 88.173)):
            Rectangle(SKETCH007_W, SKETCH007_H)
        with Locations((143.552, 76.743)):
            Rectangle(SKETCH007_W, SKETCH007_H)
    extrude(amount=EXTRUDE007_DEPTH)

    # Fusion002: union Extrude002
    add(extrude002.part)


with BuildPart() as extrude001:
    # Sketch001 → Extrude001 (new body)
    with BuildSketch(Plane.XY.offset(8)):
        with Locations((233.8675, 105)):
            Rectangle(SKETCH001_W, SKETCH001_H)
        with Locations((176.735, 204)):
            Circle(SKETCH001_R, mode=Mode.SUBTRACT)
        with Locations((291, 204)):
            Circle(SKETCH001_R, mode=Mode.SUBTRACT)
        with Locations((291, 6)):
            Circle(SKETCH001_R, mode=Mode.SUBTRACT)
        with Locations((176.735, 6)):
            Circle(SKETCH001_R, mode=Mode.SUBTRACT)
    extrude(amount=EXTRUDE001_DEPTH)


with BuildPart() as ula8:
    # Sketch006 (on Face10 of Extrude001) → Extrude006 (new body)
    with BuildSketch(Plane.XY.offset(9.6)):
        with Locations((187.88, 96.255)):
            Rectangle(SKETCH006_W, SKETCH006_H)
        with Locations((187.88, 83.555)):
            Rectangle(SKETCH006_W, SKETCH006_H)
    extrude(amount=EXTRUDE006_DEPTH)

    # Fusion003: union Extrude001
    add(extrude001.part)


with BuildPart() as extrude012:
    # Sketch012 → Extrude012 (new body)
    with BuildSketch(Plane.XY.offset(206)):
        with Locations((210.9675, 105)):
            Rectangle(SKETCH012_W, SKETCH012_H)
    extrude(amount=EXTRUDE012_DEPTH)


with BuildPart() as extrude013:
    # Sketch013 (on Face14 of Extrude011) → Extrude013 (new body)
    with BuildSketch(Plane.XY.offset(207.6)):
        with Locations((95.885, 65.947)):
            Rectangle(SKETCH013_W, SKETCH013_H)
        with Locations((95.885, 53.247)):
            Rectangle(SKETCH013_W, SKETCH013_H)
    extrude(amount=EXTRUDE013_DEPTH)


with BuildPart() as mem:
    # Sketch011 → Extrude011 (new body)
    with BuildSketch(Plane.XY.offset(206)):
        with Locations((57.4675, 127.5)):
            Rectangle(SKETCH011_W, SKETCH011_H)
        with Locations((6, 204)):
            Circle(SKETCH011_R, mode=Mode.SUBTRACT)
        with Locations((108.935, 204)):
            Circle(SKETCH011_R, mode=Mode.SUBTRACT)
        with Locations((6, 51)):
            Circle(SKETCH011_R, mode=Mode.SUBTRACT)
        with Locations((6, 72)):
            Circle(SKETCH011_R, mode=Mode.SUBTRACT)
        with Locations((71.47, 72)):
            Circle(SKETCH011_R, mode=Mode.SUBTRACT)
        with Locations((71.47, 51)):
            Circle(SKETCH011_R, mode=Mode.SUBTRACT)
        with Locations((108.935, 81.822)):
            Circle(SKETCH011_R, mode=Mode.SUBTRACT)
        with Locations((6, 81.822)):
            Circle(SKETCH011_R, mode=Mode.SUBTRACT)
    extrude(amount=EXTRUDE011_DEPTH)

    # Fusion004: union Extrude013
    add(extrude013.part)


solid = Compound([extrude_body.part, extrude003.part, rf16.part, clock.part, sysbus.part, cl.part, ula8.part, extrude012.part, mem.part])
